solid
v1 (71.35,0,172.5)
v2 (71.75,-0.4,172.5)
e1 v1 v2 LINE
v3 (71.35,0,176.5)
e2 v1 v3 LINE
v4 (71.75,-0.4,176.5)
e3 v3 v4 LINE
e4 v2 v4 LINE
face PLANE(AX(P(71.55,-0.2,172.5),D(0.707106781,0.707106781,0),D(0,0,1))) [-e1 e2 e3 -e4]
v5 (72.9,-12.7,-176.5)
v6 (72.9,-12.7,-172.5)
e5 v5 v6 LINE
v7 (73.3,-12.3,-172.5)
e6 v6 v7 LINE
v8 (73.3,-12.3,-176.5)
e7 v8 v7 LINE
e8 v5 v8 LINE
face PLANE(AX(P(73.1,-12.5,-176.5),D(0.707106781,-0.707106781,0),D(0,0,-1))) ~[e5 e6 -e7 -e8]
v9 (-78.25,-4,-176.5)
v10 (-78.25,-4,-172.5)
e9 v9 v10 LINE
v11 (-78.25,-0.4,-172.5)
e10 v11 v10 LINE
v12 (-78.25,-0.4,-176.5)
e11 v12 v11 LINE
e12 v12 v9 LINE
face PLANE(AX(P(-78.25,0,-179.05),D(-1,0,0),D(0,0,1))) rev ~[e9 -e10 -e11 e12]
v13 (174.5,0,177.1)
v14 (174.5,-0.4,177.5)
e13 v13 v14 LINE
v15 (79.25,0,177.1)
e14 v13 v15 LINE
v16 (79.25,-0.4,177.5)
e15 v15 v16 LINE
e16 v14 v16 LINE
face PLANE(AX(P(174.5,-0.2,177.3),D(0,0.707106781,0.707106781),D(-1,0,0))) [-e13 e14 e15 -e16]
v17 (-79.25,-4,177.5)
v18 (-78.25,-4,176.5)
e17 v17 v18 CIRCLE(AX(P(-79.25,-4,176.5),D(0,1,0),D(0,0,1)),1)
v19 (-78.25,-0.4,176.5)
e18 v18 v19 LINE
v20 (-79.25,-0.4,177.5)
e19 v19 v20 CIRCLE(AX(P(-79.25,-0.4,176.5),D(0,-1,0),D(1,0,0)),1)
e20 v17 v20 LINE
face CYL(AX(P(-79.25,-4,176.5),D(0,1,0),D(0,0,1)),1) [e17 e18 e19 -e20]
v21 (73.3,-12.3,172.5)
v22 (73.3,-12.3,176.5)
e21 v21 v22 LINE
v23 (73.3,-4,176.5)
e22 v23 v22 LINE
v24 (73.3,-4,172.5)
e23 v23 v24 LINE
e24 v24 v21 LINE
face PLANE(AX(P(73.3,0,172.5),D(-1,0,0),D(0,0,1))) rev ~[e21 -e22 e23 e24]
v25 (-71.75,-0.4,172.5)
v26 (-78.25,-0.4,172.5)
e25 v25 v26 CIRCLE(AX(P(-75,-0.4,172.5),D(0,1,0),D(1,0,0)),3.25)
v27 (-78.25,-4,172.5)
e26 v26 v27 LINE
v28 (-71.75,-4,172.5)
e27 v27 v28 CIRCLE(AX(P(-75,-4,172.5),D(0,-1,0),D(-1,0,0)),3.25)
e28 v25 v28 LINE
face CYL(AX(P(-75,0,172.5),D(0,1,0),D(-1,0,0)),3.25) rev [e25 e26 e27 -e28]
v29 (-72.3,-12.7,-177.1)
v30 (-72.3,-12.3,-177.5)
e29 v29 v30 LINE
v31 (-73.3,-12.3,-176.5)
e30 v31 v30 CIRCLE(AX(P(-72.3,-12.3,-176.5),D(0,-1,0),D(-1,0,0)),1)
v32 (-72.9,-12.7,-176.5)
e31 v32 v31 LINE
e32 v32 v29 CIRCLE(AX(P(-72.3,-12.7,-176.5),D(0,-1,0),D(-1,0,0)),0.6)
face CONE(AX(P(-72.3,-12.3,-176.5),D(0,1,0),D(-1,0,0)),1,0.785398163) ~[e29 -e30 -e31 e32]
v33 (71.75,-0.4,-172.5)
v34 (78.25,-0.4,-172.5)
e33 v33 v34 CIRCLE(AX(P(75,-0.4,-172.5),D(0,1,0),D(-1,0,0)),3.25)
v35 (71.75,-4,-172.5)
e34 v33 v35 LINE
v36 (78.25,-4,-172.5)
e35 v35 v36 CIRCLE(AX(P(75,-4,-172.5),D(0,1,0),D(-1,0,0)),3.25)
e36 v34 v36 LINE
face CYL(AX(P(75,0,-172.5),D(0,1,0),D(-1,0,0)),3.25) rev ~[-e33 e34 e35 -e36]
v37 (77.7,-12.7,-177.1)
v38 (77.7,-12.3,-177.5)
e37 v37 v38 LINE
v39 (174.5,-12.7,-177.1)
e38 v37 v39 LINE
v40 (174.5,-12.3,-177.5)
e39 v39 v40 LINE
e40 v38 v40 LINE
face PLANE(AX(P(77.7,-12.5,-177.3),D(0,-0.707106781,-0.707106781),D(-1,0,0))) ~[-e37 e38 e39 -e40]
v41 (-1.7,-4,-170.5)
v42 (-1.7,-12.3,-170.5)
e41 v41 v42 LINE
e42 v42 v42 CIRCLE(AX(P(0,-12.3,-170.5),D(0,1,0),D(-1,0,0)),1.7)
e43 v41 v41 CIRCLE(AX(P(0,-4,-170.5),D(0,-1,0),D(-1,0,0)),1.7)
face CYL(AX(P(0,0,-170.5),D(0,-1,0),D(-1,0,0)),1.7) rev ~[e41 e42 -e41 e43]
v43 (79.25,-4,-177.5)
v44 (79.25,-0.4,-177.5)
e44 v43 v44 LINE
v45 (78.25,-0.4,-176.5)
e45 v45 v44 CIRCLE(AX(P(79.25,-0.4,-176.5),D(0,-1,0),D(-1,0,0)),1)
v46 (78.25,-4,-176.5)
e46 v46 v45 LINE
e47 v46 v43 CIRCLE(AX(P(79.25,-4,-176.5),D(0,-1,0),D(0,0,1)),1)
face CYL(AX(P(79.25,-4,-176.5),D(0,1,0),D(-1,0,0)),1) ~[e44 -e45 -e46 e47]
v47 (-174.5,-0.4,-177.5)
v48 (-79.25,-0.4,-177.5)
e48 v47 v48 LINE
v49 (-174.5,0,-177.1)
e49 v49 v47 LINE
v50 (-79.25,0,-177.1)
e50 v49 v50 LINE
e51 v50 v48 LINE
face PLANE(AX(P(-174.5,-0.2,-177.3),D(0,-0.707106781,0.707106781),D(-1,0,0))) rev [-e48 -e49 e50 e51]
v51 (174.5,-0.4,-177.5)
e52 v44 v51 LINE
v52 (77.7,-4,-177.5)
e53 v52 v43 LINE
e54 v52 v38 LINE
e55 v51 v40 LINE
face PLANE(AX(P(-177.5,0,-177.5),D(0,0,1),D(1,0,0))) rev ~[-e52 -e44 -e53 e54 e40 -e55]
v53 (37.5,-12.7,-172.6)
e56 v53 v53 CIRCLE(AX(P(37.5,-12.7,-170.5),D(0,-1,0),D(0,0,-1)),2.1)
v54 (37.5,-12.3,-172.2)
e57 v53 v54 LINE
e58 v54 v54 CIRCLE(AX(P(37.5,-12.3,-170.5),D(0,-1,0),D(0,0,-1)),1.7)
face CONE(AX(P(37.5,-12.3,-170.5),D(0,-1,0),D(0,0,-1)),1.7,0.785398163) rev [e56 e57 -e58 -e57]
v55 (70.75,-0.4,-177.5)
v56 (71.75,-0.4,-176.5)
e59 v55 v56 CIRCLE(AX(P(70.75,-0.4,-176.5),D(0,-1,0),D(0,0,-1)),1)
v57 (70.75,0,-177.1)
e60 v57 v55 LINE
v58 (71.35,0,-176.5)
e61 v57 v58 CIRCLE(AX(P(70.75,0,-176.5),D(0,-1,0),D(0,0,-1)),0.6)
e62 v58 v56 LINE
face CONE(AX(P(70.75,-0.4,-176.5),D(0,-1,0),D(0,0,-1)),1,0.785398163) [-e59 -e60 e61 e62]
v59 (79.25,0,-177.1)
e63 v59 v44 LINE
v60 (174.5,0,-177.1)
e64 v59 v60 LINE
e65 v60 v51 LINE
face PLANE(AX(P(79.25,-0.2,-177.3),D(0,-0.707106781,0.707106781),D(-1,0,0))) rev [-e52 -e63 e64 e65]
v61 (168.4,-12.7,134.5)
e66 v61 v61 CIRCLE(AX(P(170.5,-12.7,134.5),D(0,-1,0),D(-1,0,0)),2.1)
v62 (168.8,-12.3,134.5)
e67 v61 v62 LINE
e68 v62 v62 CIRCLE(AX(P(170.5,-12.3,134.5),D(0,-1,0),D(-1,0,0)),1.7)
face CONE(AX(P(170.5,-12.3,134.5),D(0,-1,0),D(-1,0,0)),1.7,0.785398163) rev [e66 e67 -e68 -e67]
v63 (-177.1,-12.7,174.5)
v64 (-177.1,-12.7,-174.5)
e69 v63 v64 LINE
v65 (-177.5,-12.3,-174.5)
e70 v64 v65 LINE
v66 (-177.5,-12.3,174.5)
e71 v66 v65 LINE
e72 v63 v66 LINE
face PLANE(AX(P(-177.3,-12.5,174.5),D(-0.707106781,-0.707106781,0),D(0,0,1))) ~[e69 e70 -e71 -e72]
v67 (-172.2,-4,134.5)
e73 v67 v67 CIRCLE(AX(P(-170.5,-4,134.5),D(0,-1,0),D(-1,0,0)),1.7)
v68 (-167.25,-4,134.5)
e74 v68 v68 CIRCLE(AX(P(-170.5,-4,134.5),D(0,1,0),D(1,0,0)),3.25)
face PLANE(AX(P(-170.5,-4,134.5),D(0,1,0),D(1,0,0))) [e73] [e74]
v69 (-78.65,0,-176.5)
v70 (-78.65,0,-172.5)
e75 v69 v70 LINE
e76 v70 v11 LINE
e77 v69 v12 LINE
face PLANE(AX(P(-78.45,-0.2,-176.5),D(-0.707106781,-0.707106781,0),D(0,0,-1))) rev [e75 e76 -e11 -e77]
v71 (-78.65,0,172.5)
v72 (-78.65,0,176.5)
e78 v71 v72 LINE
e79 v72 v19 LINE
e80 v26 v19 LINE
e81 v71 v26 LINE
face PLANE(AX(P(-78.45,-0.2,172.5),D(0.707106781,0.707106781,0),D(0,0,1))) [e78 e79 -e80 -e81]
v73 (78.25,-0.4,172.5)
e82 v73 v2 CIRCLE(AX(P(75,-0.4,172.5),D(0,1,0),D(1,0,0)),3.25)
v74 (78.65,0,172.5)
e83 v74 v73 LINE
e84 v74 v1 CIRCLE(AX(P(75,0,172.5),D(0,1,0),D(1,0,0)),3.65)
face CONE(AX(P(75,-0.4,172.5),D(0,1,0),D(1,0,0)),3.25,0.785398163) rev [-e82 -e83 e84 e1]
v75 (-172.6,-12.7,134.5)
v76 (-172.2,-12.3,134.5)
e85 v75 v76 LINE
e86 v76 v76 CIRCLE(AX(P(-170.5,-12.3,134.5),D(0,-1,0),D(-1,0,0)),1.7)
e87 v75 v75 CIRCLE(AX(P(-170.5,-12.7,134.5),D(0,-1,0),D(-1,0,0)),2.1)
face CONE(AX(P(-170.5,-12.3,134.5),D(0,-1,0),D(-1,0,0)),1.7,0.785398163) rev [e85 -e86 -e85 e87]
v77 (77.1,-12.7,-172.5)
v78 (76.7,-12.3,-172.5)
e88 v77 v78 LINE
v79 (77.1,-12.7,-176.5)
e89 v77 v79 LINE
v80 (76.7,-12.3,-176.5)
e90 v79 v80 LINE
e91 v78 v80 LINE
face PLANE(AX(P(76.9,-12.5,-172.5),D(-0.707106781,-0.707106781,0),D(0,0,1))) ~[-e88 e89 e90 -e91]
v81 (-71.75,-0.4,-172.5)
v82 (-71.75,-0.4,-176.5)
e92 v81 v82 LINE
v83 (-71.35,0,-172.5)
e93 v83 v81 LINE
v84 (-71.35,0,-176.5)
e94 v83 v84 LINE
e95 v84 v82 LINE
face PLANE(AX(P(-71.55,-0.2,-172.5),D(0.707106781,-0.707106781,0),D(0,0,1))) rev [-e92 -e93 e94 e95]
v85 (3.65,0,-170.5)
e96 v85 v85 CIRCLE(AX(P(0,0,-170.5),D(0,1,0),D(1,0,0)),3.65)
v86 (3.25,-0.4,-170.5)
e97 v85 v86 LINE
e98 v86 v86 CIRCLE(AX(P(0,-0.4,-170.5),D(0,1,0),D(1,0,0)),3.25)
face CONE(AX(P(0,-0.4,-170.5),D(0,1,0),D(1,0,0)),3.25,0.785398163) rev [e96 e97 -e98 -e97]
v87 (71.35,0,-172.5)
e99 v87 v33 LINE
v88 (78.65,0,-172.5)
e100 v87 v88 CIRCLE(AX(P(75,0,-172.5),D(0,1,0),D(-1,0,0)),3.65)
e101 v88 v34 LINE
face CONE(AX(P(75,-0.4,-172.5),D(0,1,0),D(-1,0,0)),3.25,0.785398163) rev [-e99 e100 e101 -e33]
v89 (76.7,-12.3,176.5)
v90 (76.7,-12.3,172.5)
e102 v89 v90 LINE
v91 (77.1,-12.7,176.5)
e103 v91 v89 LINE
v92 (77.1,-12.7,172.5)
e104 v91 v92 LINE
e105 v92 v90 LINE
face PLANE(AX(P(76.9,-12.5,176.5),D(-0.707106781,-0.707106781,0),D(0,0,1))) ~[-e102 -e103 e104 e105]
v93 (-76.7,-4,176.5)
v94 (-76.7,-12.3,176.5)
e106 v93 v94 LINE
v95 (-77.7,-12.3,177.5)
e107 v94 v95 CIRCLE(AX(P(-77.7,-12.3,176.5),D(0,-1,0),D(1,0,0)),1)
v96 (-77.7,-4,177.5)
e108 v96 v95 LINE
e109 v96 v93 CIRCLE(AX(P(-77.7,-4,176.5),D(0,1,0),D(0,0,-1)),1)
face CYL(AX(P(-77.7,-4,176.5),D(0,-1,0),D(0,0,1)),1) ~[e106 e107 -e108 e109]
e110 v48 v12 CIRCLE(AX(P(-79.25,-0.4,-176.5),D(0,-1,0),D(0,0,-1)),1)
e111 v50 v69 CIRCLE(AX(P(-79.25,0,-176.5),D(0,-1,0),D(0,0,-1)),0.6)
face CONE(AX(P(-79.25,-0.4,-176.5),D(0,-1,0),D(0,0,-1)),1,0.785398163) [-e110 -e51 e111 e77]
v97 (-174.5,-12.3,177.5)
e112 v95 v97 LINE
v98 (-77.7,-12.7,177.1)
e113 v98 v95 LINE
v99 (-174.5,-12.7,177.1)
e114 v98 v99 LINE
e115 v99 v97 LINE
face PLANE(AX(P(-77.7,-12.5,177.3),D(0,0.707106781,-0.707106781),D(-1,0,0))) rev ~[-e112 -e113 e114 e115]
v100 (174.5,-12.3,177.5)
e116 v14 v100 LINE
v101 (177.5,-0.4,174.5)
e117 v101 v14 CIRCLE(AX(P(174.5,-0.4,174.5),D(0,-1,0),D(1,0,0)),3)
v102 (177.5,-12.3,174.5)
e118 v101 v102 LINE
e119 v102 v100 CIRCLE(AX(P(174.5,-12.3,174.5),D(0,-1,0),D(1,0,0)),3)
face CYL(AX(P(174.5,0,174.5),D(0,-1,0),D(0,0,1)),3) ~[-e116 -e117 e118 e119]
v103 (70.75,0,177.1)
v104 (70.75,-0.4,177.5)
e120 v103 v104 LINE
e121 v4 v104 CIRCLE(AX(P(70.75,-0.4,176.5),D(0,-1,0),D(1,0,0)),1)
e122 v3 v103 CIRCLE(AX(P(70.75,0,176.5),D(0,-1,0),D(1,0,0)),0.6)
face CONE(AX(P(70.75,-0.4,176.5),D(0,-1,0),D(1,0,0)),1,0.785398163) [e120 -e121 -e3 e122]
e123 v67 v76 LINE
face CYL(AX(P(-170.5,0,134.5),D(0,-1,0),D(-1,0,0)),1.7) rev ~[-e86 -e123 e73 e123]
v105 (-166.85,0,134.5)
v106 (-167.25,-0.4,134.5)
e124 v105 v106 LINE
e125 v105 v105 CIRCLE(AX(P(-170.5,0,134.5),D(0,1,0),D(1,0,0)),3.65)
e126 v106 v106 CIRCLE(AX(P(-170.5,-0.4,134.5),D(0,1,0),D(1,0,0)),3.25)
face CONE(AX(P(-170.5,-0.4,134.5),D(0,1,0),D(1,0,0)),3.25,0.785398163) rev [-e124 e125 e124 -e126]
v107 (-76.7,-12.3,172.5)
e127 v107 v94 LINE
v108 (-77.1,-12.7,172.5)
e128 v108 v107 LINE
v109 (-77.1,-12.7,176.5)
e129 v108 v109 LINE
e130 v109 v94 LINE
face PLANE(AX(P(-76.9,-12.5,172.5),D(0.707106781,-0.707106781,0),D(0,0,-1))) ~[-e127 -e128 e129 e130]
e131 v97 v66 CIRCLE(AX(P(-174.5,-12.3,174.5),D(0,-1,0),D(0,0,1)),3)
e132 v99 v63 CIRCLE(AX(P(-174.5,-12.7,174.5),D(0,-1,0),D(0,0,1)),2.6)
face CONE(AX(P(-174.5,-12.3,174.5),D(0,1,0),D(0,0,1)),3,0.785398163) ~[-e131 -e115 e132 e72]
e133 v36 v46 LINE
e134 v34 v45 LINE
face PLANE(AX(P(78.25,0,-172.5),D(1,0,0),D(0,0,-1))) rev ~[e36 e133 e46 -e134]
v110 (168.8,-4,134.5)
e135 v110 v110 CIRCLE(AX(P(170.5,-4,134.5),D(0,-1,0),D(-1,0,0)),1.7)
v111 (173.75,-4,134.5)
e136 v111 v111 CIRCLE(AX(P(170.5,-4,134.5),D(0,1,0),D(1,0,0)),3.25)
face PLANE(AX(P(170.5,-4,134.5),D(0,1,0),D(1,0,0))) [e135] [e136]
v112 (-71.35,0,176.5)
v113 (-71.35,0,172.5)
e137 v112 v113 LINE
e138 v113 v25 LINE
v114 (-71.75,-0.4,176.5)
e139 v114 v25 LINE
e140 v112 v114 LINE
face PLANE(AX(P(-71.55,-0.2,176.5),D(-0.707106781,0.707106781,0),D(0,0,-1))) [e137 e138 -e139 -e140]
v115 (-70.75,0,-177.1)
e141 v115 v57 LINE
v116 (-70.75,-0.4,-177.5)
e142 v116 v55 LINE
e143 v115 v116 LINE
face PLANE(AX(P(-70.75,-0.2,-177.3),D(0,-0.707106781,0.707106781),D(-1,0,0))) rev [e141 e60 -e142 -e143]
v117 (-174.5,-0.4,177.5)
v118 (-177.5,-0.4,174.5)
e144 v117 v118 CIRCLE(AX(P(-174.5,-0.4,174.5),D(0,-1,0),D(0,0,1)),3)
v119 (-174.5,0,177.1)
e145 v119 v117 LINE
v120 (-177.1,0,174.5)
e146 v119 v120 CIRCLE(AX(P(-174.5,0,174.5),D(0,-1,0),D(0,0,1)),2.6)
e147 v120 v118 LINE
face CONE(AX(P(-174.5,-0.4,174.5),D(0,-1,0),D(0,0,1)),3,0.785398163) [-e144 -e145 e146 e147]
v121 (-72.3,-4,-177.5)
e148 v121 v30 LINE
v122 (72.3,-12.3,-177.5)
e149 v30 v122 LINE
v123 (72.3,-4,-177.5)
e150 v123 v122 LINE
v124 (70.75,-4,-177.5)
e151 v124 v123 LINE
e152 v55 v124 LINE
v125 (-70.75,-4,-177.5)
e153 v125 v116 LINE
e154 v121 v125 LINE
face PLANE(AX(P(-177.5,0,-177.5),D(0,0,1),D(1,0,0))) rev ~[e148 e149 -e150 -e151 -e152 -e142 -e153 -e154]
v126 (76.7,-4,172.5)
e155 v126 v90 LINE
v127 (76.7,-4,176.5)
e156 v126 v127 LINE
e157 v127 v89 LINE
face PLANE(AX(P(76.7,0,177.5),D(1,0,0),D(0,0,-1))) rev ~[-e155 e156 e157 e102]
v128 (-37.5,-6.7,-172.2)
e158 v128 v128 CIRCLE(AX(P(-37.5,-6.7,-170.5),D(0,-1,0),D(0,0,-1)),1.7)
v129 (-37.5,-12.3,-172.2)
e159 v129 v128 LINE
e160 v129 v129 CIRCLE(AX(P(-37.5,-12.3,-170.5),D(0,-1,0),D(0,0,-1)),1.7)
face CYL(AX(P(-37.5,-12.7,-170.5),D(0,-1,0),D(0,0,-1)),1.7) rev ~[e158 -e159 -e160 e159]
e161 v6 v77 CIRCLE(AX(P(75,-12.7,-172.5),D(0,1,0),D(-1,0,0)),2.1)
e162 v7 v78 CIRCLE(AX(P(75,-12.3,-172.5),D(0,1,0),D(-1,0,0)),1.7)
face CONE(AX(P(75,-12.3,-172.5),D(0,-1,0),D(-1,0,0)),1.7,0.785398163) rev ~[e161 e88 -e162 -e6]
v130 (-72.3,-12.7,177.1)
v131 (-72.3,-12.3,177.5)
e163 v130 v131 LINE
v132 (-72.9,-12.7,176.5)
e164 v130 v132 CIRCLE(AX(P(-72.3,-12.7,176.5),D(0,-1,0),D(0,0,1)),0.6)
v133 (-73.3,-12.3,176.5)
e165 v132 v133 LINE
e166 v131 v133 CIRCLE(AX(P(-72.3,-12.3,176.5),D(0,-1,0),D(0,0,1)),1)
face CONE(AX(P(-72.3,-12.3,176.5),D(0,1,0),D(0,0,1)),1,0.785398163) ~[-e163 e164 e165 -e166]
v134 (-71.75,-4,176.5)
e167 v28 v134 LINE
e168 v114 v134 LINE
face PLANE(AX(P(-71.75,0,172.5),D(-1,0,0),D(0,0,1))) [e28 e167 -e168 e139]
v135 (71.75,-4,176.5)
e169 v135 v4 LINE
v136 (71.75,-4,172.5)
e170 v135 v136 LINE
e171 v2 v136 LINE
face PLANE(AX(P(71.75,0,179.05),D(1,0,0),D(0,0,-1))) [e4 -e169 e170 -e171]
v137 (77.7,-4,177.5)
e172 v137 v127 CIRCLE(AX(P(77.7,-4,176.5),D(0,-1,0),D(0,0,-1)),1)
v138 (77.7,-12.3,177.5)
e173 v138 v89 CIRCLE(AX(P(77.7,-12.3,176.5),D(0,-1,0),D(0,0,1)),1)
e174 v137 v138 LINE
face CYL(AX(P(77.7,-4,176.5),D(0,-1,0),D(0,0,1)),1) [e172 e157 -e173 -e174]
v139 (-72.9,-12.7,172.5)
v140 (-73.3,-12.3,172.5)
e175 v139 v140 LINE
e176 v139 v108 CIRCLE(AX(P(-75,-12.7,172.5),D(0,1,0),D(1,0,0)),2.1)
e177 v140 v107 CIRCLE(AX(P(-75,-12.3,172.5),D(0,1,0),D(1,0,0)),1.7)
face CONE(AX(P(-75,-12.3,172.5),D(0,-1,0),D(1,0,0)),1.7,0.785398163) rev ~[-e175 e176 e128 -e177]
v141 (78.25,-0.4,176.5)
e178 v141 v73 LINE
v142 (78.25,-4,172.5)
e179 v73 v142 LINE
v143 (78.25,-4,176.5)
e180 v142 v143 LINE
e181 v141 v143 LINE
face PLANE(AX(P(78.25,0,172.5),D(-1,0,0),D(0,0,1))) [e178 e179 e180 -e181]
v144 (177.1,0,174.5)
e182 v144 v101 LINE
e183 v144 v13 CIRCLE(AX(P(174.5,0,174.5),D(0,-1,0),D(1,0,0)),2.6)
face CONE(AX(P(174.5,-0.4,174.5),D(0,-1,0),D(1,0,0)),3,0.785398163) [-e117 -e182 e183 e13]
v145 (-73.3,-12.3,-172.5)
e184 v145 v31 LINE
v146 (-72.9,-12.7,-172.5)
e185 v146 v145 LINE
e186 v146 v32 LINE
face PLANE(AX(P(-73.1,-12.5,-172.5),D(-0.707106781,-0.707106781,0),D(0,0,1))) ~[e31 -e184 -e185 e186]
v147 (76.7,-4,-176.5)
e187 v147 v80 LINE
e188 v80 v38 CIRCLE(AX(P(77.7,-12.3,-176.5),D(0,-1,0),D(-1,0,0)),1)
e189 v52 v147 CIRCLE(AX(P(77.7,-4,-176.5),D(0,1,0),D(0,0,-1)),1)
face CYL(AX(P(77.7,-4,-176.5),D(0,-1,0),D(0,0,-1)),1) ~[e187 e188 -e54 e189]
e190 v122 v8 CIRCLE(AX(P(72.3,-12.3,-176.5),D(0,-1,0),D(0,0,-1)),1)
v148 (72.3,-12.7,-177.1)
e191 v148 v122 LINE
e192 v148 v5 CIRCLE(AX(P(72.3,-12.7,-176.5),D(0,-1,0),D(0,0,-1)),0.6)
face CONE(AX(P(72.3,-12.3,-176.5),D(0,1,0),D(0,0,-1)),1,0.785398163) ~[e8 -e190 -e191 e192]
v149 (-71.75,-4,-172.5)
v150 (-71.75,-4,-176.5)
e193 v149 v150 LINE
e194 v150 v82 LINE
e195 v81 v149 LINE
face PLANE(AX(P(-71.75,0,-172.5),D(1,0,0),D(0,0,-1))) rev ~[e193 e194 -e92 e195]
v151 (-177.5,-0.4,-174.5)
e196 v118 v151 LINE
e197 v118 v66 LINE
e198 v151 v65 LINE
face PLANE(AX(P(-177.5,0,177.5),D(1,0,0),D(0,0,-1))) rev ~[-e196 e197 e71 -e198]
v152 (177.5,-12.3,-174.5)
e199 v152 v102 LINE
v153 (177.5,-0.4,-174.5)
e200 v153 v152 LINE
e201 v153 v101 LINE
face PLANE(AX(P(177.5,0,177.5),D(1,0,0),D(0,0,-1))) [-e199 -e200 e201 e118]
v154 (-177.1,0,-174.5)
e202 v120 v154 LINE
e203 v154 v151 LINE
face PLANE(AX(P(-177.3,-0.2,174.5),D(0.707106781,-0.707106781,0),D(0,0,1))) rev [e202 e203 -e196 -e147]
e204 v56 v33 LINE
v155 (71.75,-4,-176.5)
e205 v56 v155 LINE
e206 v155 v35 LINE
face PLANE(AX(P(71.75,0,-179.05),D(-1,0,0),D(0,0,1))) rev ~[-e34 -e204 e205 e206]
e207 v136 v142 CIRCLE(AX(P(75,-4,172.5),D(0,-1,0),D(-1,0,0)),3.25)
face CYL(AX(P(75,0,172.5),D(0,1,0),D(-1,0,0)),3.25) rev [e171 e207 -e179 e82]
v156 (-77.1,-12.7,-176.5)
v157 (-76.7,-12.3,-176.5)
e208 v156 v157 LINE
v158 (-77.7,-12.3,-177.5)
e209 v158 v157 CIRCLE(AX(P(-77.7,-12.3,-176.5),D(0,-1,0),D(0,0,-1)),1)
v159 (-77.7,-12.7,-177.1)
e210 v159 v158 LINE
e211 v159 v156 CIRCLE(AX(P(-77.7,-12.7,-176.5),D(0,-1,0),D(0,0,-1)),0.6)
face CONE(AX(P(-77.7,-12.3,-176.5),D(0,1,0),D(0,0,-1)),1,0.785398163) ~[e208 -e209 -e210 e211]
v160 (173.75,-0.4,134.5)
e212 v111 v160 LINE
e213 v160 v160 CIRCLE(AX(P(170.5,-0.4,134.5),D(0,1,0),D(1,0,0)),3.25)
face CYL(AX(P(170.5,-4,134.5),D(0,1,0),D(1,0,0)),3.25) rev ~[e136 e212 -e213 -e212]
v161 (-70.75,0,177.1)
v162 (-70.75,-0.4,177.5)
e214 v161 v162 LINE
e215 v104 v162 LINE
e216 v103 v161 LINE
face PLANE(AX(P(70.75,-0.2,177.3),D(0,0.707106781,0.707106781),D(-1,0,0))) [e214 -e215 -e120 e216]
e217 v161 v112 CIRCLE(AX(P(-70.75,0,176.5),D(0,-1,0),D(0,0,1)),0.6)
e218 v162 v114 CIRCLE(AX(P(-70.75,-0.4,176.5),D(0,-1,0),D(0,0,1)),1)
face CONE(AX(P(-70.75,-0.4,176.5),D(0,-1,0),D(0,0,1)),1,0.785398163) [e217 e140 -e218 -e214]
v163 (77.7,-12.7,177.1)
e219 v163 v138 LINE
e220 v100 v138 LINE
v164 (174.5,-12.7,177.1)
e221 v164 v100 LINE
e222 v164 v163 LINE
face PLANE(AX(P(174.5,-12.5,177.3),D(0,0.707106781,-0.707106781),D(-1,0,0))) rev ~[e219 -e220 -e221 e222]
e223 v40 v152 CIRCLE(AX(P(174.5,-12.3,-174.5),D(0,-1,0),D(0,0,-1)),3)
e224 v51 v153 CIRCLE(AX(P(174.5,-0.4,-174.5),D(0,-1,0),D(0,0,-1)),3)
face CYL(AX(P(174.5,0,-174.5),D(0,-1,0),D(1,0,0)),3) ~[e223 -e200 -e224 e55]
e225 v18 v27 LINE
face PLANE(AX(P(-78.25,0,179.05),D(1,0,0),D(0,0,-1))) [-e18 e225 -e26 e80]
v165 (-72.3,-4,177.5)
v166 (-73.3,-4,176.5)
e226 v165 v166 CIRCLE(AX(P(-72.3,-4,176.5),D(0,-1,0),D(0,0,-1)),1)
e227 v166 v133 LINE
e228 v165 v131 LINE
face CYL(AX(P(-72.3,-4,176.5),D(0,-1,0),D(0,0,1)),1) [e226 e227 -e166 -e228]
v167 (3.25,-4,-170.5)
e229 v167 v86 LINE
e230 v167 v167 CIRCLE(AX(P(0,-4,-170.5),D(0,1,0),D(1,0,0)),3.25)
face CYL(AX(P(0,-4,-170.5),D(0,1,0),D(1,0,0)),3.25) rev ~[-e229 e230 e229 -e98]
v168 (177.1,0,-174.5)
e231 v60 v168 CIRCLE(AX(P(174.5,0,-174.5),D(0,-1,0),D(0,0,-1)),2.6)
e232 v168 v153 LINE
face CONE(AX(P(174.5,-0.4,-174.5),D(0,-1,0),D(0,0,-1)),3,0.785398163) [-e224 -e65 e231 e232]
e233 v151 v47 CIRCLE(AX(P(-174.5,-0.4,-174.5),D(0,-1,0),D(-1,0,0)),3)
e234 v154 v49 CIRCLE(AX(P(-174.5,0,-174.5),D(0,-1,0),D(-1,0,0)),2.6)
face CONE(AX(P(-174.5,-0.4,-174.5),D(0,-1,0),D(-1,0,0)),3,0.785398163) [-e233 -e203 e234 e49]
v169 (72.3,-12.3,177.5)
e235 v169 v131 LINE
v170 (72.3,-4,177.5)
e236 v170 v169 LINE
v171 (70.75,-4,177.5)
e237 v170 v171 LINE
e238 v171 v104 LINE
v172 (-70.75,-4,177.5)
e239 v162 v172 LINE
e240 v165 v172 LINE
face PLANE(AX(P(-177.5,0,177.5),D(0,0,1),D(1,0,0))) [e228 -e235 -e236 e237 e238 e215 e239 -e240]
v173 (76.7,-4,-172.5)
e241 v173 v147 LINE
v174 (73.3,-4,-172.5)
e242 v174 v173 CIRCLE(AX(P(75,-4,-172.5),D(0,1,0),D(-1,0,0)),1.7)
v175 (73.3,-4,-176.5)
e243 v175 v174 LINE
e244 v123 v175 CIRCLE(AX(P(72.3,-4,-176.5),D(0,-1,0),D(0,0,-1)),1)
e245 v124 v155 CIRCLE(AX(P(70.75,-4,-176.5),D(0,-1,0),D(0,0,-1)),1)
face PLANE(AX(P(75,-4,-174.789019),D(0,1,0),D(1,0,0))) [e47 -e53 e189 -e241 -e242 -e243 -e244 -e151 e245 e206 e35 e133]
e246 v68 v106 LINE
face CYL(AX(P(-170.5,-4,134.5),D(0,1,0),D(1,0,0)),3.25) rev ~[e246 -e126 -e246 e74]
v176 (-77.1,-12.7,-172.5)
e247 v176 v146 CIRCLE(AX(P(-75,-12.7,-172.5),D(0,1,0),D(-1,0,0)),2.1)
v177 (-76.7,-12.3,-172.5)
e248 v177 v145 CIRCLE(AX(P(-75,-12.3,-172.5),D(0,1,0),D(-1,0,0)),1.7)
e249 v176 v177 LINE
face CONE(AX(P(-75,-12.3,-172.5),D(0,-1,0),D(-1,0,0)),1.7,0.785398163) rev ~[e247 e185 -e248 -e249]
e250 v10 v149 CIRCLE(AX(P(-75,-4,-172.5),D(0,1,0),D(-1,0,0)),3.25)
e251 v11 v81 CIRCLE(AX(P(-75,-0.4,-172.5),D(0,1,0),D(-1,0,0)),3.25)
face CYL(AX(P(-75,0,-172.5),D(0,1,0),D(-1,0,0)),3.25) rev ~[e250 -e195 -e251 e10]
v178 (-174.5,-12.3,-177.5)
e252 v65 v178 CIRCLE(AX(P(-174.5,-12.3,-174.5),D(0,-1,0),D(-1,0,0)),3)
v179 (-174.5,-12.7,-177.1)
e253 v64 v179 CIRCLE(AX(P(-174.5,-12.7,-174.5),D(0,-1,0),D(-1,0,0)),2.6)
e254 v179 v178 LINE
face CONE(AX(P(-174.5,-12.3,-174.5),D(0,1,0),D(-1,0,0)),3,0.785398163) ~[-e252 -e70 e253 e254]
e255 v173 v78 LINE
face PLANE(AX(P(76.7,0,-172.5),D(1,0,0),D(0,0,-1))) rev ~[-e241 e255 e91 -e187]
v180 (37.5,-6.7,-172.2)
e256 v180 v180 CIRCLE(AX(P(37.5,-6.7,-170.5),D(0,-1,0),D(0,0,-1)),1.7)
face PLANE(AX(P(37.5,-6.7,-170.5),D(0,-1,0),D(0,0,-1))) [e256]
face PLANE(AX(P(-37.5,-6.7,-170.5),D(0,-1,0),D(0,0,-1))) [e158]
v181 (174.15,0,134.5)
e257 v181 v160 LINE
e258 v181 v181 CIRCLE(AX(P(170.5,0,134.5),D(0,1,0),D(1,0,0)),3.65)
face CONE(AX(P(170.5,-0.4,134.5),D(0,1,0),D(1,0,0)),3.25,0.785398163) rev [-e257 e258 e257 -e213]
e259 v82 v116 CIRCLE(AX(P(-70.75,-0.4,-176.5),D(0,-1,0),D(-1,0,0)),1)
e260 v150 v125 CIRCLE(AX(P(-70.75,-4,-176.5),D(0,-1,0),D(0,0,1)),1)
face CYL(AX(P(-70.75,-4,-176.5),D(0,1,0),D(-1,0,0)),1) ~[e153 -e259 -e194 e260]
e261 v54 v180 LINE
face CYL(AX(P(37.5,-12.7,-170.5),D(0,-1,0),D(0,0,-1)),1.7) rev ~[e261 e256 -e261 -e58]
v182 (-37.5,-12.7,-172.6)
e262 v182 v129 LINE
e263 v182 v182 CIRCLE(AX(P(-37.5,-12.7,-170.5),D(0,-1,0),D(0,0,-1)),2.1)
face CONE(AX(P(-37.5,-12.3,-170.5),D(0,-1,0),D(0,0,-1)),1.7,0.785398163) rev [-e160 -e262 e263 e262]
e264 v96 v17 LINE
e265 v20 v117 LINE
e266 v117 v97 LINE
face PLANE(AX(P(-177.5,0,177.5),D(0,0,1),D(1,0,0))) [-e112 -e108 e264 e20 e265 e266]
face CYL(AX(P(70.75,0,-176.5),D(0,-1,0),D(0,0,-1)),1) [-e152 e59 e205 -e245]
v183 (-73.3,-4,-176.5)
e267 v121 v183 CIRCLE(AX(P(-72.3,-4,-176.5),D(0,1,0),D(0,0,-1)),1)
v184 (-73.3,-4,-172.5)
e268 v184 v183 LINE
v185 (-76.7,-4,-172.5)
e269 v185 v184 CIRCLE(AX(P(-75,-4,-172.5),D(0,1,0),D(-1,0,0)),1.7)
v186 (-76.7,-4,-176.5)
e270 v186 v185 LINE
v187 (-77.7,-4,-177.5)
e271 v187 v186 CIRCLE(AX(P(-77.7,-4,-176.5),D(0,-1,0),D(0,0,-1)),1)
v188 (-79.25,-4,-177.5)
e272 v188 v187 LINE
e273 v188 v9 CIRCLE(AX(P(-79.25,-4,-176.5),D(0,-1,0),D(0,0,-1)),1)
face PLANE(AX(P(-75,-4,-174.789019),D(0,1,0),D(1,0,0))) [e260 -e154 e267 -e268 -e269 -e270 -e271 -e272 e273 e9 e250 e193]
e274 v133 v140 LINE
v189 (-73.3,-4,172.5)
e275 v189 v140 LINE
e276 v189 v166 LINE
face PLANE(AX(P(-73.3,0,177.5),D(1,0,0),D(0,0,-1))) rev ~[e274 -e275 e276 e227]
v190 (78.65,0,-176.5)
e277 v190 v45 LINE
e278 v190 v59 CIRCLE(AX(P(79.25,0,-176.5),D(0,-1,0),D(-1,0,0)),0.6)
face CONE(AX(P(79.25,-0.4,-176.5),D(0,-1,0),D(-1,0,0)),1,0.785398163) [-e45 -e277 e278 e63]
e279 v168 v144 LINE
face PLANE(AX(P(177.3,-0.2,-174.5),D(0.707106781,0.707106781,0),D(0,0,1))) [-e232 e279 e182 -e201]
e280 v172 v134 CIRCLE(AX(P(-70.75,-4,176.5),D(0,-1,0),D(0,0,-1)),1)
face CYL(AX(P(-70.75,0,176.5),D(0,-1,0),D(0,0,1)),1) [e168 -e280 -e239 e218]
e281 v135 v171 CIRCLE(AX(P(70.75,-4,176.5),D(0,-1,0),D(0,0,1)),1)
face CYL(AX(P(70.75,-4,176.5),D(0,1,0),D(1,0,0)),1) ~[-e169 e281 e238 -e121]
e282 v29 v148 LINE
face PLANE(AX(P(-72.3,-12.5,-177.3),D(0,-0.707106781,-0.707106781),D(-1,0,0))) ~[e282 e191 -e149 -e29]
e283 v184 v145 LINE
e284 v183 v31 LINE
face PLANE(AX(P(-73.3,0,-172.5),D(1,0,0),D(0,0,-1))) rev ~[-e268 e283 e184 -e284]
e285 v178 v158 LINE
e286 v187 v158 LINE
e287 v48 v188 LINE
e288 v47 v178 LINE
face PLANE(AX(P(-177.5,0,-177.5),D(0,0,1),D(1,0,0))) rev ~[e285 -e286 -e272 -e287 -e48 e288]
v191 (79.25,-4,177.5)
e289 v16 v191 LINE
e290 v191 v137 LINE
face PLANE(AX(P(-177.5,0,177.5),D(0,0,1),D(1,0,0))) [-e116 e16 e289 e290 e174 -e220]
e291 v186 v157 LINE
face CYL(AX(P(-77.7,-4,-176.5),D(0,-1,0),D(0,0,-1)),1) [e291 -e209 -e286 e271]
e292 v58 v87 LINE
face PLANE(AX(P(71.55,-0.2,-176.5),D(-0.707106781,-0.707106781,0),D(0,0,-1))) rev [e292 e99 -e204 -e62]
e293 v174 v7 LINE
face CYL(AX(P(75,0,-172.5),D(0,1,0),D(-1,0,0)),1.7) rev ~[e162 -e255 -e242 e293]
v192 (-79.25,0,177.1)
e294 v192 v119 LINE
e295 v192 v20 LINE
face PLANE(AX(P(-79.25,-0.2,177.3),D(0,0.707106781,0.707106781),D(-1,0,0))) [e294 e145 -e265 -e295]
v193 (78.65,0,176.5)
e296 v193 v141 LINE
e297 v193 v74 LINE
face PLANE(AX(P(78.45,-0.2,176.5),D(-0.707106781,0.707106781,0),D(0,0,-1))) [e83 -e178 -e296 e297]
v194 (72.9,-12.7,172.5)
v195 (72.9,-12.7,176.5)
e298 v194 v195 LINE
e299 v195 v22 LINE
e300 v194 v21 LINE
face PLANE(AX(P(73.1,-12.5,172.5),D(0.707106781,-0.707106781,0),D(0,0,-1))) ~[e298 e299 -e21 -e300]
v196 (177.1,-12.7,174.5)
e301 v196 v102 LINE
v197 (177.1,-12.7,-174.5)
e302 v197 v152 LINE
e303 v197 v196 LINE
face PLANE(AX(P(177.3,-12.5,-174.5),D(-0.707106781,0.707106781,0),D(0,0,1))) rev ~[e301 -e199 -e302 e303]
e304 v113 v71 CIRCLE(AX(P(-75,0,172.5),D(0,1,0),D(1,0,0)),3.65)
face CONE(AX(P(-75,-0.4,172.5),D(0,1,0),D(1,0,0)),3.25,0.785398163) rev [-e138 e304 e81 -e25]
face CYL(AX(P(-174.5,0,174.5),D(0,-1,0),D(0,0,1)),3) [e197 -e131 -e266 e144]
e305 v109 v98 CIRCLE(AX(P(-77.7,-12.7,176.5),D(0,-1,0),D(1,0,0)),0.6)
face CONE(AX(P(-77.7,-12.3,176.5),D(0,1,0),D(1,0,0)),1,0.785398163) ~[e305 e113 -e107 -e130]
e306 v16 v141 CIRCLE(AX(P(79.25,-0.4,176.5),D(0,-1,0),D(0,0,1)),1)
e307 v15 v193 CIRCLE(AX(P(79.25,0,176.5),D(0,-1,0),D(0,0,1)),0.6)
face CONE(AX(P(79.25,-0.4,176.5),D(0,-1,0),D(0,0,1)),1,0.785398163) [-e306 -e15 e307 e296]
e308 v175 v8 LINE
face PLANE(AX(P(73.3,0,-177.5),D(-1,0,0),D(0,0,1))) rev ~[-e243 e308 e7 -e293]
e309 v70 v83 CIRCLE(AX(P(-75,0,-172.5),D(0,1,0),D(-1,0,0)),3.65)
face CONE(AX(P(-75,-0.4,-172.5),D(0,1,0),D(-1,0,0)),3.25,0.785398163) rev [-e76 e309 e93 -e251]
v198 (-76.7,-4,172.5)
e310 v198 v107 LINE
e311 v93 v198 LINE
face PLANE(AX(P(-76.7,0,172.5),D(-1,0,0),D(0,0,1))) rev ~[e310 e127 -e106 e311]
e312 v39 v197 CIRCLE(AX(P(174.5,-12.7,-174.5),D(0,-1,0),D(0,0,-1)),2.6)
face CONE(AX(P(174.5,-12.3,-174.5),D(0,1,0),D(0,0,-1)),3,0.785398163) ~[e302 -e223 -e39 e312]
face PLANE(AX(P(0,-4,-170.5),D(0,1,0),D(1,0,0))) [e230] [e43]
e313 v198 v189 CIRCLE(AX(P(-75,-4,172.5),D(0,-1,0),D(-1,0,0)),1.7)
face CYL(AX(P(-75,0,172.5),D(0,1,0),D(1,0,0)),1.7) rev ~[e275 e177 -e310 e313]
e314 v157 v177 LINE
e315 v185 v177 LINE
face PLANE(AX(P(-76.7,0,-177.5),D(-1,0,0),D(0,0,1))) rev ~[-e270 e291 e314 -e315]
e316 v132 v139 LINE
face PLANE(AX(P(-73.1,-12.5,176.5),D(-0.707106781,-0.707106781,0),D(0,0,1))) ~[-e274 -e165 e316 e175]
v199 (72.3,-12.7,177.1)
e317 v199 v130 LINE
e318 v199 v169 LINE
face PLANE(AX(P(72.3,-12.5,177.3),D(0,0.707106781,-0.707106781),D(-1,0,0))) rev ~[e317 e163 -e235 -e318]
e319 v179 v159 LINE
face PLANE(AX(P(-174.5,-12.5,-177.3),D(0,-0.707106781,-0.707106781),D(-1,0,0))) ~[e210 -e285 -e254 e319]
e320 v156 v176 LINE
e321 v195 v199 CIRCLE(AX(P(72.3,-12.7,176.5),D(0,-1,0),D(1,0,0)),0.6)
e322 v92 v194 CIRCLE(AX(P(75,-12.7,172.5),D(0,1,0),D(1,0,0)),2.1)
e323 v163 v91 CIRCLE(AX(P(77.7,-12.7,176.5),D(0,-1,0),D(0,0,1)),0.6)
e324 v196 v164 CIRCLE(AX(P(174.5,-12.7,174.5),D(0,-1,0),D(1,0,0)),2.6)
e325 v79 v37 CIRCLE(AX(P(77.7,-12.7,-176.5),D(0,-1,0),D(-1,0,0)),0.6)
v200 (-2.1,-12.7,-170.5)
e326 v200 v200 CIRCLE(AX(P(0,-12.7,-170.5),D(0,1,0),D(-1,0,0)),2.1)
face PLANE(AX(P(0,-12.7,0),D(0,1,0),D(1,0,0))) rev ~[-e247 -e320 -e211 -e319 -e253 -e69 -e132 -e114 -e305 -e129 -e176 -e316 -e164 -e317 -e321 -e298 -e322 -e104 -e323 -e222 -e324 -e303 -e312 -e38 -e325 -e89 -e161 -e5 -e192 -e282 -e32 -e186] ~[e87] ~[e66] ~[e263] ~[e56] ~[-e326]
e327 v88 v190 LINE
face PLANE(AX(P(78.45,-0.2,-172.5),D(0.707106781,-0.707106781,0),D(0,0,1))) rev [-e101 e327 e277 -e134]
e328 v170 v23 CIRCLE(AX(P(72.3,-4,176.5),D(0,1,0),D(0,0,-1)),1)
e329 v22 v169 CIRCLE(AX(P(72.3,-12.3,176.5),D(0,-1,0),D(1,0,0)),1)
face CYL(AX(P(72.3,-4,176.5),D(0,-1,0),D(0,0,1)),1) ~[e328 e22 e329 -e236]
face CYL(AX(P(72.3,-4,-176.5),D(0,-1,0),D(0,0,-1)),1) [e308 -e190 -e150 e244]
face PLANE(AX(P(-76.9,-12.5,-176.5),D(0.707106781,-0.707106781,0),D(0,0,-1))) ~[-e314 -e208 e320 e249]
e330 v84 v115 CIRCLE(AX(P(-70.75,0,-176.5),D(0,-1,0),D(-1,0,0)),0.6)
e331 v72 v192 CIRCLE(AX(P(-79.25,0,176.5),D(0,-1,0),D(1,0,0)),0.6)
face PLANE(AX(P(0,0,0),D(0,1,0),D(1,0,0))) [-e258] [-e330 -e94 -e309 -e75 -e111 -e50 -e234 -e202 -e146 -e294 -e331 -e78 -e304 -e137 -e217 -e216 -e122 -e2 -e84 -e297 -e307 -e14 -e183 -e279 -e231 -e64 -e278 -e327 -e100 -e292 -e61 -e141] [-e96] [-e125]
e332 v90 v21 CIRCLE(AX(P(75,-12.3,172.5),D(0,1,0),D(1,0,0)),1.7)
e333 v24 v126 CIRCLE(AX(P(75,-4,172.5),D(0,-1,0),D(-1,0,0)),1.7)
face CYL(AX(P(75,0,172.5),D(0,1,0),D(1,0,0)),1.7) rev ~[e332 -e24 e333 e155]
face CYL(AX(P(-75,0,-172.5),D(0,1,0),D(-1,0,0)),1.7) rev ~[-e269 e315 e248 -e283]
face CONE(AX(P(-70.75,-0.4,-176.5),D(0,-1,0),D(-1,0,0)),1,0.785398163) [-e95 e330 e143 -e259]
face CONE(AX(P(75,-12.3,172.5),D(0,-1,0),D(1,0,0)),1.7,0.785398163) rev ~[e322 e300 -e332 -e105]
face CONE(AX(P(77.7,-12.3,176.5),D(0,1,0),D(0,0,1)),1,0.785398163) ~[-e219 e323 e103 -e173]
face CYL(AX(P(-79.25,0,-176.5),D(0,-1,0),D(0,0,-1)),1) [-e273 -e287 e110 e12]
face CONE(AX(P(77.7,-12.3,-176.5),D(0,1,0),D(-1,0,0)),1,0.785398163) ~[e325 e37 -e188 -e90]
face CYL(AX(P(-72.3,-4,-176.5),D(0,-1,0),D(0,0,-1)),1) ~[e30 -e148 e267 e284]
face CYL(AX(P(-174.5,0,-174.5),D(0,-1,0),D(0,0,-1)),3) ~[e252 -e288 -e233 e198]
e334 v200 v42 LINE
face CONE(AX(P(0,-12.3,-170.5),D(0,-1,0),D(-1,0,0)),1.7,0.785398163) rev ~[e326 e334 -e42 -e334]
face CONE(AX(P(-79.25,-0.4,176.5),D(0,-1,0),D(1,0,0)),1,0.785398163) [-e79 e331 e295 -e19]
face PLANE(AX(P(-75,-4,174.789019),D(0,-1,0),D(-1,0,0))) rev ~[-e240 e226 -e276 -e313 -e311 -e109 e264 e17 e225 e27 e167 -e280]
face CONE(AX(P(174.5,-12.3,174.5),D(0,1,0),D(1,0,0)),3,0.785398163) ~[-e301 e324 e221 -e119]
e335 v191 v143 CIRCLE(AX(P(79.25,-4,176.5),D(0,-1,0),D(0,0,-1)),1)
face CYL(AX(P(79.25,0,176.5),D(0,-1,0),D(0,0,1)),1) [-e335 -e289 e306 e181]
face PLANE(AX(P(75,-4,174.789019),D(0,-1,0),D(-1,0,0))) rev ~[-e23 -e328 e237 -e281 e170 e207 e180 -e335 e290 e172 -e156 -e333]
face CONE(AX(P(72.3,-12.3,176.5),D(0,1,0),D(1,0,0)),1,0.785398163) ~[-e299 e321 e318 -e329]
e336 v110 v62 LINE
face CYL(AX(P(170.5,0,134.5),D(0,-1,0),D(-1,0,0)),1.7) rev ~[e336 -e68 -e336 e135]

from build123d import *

# Parameters (mm, degrees)
SKETCH1_W                                           = 355
SKETCH1_H                                           = 355
BOSS_EXTRUDE1_DEPTH                                 = 12.7
CBORE_FOR_M3_HEX_SOCKET_HEAD_CAP_SCREW1_D           = 3.4
CBORE_FOR_M3_HEX_SOCKET_HEAD_CAP_SCREW1_CBORE_D     = 6.5
CBORE_FOR_M3_HEX_SOCKET_HEAD_CAP_SCREW1_CBORE_DEPTH = 4
CUT_EXTRUDE1_DEPTH                                  = 252.343967503
CUT_EXTRUDE2_DEPTH                                  = 4
FILLET2_R                                           = 1
SKETCH5_R                                           = 1.7
CUT_EXTRUDE3_DEPTH                                  = 6
FILLET1_R                                           = 3
CHAMFER1_SIZE                                       = 0.4


with BuildPart() as part:
    # Sketch1 → Boss-Extrude1 (new body)
    with BuildSketch(Plane(origin=(0, 0, 0), x_dir=(1, 0, 0), z_dir=(0, 1, 0))):
        Rectangle(SKETCH1_W, SKETCH1_H)
    extrude(amount=-BOSS_EXTRUDE1_DEPTH)

    # CBORE for M3 Hex Socket Head Cap Screw1 (through all)
    with Locations(Plane(origin=(0, 0, 0), x_dir=(1, 0, 0), z_dir=(0, 1, 0))):
        with Locations((-170.5, -134.5), (170.5, -134.5), (0, 170.5)):
            CounterBoreHole(CBORE_FOR_M3_HEX_SOCKET_HEAD_CAP_SCREW1_D / 2, CBORE_FOR_M3_HEX_SOCKET_HEAD_CAP_SCREW1_CBORE_D / 2, CBORE_FOR_M3_HEX_SOCKET_HEAD_CAP_SCREW1_CBORE_DEPTH)

    # Sketch4 → Cut-Extrude1 (cut, through all)
    with BuildSketch(Plane(origin=(0, 0, 0), x_dir=(1, 0, 0), z_dir=(0, 1, 0))):
        with BuildLine():
            Line((-76.7, -172.5), (-76.7, -177.5))
            Line((-76.7, -177.5), (-73.3, -177.5))
            Line((-73.3, -177.5), (-73.3, -172.5))
            ThreePointArc((-73.3, -172.5), (-75, -170.8), (-76.7, -172.5))
        make_face()
        with BuildLine():
            Line((73.3, -172.5), (73.3, -177.5))
            Line((73.3, -177.5), (76.7, -177.5))
            Line((76.7, -177.5), (76.7, -172.5))
            ThreePointArc((76.7, -172.5), (75, -170.8), (73.3, -172.5))
        make_face()
        with BuildLine():
            Line((-73.3, 177.5), (-76.7, 177.5))
            Line((-76.7, 177.5), (-76.7, 172.5))
            ThreePointArc((-76.7, 172.5), (-75, 170.8), (-73.3, 172.5))
            Line((-73.3, 172.5), (-73.3, 177.5))
        make_face()
        with BuildLine():
            Line((76.7, 177.5), (73.3, 177.5))
            Line((73.3, 177.5), (73.3, 172.5))
            ThreePointArc((73.3, 172.5), (75, 170.8), (76.7, 172.5))
            Line((76.7, 172.5), (76.7, 177.5))
        make_face()
    extrude(amount=-CUT_EXTRUDE1_DEPTH, mode=Mode.SUBTRACT)

    # Sketch4<3> → Cut-Extrude2 (cut)
    # profile 1 of 4: a face of its own
    with BuildSketch(Plane(origin=(0, 0, 0), x_dir=(1, 0, 0), z_dir=(0, 1, 0))):
        with BuildLine():
            Line((-78.25, -172.5), (-78.25, -179.05))
            Line((-78.25, -179.05), (-71.75, -179.05))
            Line((-71.75, -179.05), (-71.75, -172.5))
            ThreePointArc((-71.75, -172.5), (-75, -169.25), (-78.25, -172.5))
        make_face()
        with BuildLine():
            Line((-73.3, -177.5), (-76.7, -177.5))
            Line((-76.7, -177.5), (-76.7, -172.5))
            ThreePointArc((-76.7, -172.5), (-75, -170.8), (-73.3, -172.5))
            Line((-73.3, -172.5), (-73.3, -177.5))
        make_face(mode=Mode.SUBTRACT)
    # profile 2 of 4: a face of its own
    with BuildSketch(Plane(origin=(0, 0, 0), x_dir=(1, 0, 0), z_dir=(0, 1, 0))):
        with BuildLine():
            Line((71.75, -172.5), (71.75, -179.05))
            Line((71.75, -179.05), (78.25, -179.05))
            Line((78.25, -179.05), (78.25, -172.5))
            ThreePointArc((78.25, -172.5), (75, -169.25), (71.75, -172.5))
        make_face()
        with BuildLine():
            Line((76.7, -177.5), (73.3, -177.5))
            Line((73.3, -177.5), (73.3, -172.5))
            ThreePointArc((73.3, -172.5), (75, -170.8), (76.7, -172.5))
            Line((76.7, -172.5), (76.7, -177.5))
        make_face(mode=Mode.SUBTRACT)
    # profile 3 of 4: a face of its own
    with BuildSketch(Plane(origin=(0, 0, 0), x_dir=(1, 0, 0), z_dir=(0, 1, 0))):
        with BuildLine():
            Line((78.25, 179.05), (71.75, 179.05))
            Line((71.75, 179.05), (71.75, 172.5))
            ThreePointArc((71.75, 172.5), (75, 169.25), (78.25, 172.5))
            Line((78.25, 172.5), (78.25, 179.05))
        make_face()
        with BuildLine():
            Line((73.3, 172.5), (73.3, 177.5))
            Line((73.3, 177.5), (76.7, 177.5))
            Line((76.7, 177.5), (76.7, 172.5))
            ThreePointArc((76.7, 172.5), (75, 170.8), (73.3, 172.5))
        make_face(mode=Mode.SUBTRACT)
    # profile 4 of 4: a face of its own
    with BuildSketch(Plane(origin=(0, 0, 0), x_dir=(1, 0, 0), z_dir=(0, 1, 0))):
        with BuildLine():
            ThreePointArc((-78.25, 172.5), (-75, 169.25), (-71.75, 172.5))
            Line((-71.75, 172.5), (-71.75, 179.05))
            Line((-71.75, 179.05), (-78.25, 179.05))
            Line((-78.25, 179.05), (-78.25, 172.5))
        make_face()
        with BuildLine():
            Line((-76.7, 172.5), (-76.7, 177.5))
            Line((-76.7, 177.5), (-73.3, 177.5))
            Line((-73.3, 177.5), (-73.3, 172.5))
            ThreePointArc((-73.3, 172.5), (-75, 170.8), (-76.7, 172.5))
        make_face(mode=Mode.SUBTRACT)
    extrude(amount=-CUT_EXTRUDE2_DEPTH, mode=Mode.SUBTRACT)

    # Fillet2
    fillet2_edges = [part.edges().sort_by_distance(p)[0] for p in [
        (-71.75, -2, 177.5),
        (-73.3, -8.35, 177.5),
        (-76.7, -8.35, 177.5),
        (-78.25, -2, 177.5),
        (-73.3, -8.35, -177.5),
        (-76.7, -8.35, -177.5),
        (-78.25, -2, -177.5),
        (-71.75, -2, -177.5),
        (71.75, -2, -177.5),
        (73.3, -8.35, -177.5),
        (76.7, -8.35, -177.5),
        (78.25, -2, -177.5),
        (76.7, -8.35, 177.5),
        (78.25, -2, 177.5),
        (73.3, -8.35, 177.5),
        (71.75, -2, 177.5),
    ]]
    fillet(fillet2_edges, radius=FILLET2_R)

    # Sketch5 → Cut-Extrude3 (cut)
    with BuildSketch(Plane.XZ.offset(12.7)):
        with Locations((-37.5, -170.5)):
            Circle(SKETCH5_R)
        with Locations((37.5, -170.5)):
            Circle(SKETCH5_R)
        with Locations((0, -170.5)):
            Circle(SKETCH5_R)
    extrude(amount=-CUT_EXTRUDE3_DEPTH, mode=Mode.SUBTRACT)

    # Fillet1
    fillet1_edges = [part.edges().sort_by_distance(p)[0] for p in [
        (177.5, -6.35, -177.5),
        (-177.5, -6.35, -177.5),
        (177.5, -6.35, 177.5),
        (-177.5, -6.35, 177.5),
    ]]
    fillet(fillet1_edges, radius=FILLET1_R)

    # Chamfer1
    chamfer1_edges = [part.edges().sort_by_distance(p)[0] for p in [
        (-3.25, 0, -170.5),
        (167.25, 0, 134.5),
        (-173.75, 0, 134.5),
        (176.621320344, 0, 176.621320344),
        (126.875, 0, 177.5),
        (78.542893219, 0, 177.207106781),
        (78.25, 0, 174.5),
        (75, 0, 169.25),
        (71.75, 0, 174.5),
        (71.457106781, 0, 177.207106781),
        (0, 0, 177.5),
        (-71.457106781, 0, 177.207106781),
        (-71.75, 0, 174.5),
        (-75, 0, 169.25),
        (-78.25, 0, 174.5),
        (-78.542893219, 0, 177.207106781),
        (-126.875, 0, 177.5),
        (-176.621320344, 0, 176.621320344),
        (-177.5, 0, 0),
        (-176.621320344, 0, -176.621320344),
        (-126.875, 0, -177.5),
        (-78.542893219, 0, -177.207106781),
        (-78.25, 0, -174.5),
        (-75, 0, -169.25),
        (-71.75, 0, -174.5),
        (-71.457106781, 0, -177.207106781),
        (0, 0, -177.5),
        (71.457106781, 0, -177.207106781),
        (71.75, 0, -174.5),
        (75, 0, -169.25),
        (78.25, 0, -174.5),
        (78.542893219, 0, -177.207106781),
        (126.875, 0, -177.5),
        (176.621320344, 0, -176.621320344),
        (177.5, 0, 0),
        (76.992893219, -12.7, -177.207106781),
        (76.7, -12.7, -174.5),
        (75, -12.7, -170.8),
        (73.3, -12.7, -174.5),
        (73.007106781, -12.7, -177.207106781),
        (0, -12.7, -177.5),
        (-73.007106781, -12.7, -177.207106781),
        (-73.3, -12.7, -174.5),
        (-75, -12.7, -170.8),
        (-76.7, -12.7, -174.5),
        (-76.992893219, -12.7, -177.207106781),
        (-126.1, -12.7, -177.5),
        (-176.621320344, -12.7, -176.621320344),
        (-177.5, -12.7, 0),
        (-176.621320344, -12.7, 176.621320344),
        (-126.1, -12.7, 177.5),
        (-76.992893219, -12.7, 177.207106781),
        (-76.7, -12.7, 174.5),
        (-75, -12.7, 170.8),
        (-73.3, -12.7, 174.5),
        (-73.007106781, -12.7, 177.207106781),
        (0, -12.7, 177.5),
        (73.007106781, -12.7, 177.207106781),
        (73.3, -12.7, 174.5),
        (75, -12.7, 170.8),
        (76.7, -12.7, 174.5),
        (76.992893219, -12.7, 177.207106781),
        (126.1, -12.7, 177.5),
        (176.621320344, -12.7, 176.621320344),
        (177.5, -12.7, 0),
        (176.621320344, -12.7, -176.621320344),
        (126.1, -12.7, -177.5),
        (1.7, -12.7, -170.5),
        (172.2, -12.7, 134.5),
        (-168.8, -12.7, 134.5),
        (35.8, -12.7, -170.5),
        (-39.2, -12.7, -170.5),
    ]]
    chamfer(chamfer1_edges, length=CHAMFER1_SIZE)


solid = part.part
